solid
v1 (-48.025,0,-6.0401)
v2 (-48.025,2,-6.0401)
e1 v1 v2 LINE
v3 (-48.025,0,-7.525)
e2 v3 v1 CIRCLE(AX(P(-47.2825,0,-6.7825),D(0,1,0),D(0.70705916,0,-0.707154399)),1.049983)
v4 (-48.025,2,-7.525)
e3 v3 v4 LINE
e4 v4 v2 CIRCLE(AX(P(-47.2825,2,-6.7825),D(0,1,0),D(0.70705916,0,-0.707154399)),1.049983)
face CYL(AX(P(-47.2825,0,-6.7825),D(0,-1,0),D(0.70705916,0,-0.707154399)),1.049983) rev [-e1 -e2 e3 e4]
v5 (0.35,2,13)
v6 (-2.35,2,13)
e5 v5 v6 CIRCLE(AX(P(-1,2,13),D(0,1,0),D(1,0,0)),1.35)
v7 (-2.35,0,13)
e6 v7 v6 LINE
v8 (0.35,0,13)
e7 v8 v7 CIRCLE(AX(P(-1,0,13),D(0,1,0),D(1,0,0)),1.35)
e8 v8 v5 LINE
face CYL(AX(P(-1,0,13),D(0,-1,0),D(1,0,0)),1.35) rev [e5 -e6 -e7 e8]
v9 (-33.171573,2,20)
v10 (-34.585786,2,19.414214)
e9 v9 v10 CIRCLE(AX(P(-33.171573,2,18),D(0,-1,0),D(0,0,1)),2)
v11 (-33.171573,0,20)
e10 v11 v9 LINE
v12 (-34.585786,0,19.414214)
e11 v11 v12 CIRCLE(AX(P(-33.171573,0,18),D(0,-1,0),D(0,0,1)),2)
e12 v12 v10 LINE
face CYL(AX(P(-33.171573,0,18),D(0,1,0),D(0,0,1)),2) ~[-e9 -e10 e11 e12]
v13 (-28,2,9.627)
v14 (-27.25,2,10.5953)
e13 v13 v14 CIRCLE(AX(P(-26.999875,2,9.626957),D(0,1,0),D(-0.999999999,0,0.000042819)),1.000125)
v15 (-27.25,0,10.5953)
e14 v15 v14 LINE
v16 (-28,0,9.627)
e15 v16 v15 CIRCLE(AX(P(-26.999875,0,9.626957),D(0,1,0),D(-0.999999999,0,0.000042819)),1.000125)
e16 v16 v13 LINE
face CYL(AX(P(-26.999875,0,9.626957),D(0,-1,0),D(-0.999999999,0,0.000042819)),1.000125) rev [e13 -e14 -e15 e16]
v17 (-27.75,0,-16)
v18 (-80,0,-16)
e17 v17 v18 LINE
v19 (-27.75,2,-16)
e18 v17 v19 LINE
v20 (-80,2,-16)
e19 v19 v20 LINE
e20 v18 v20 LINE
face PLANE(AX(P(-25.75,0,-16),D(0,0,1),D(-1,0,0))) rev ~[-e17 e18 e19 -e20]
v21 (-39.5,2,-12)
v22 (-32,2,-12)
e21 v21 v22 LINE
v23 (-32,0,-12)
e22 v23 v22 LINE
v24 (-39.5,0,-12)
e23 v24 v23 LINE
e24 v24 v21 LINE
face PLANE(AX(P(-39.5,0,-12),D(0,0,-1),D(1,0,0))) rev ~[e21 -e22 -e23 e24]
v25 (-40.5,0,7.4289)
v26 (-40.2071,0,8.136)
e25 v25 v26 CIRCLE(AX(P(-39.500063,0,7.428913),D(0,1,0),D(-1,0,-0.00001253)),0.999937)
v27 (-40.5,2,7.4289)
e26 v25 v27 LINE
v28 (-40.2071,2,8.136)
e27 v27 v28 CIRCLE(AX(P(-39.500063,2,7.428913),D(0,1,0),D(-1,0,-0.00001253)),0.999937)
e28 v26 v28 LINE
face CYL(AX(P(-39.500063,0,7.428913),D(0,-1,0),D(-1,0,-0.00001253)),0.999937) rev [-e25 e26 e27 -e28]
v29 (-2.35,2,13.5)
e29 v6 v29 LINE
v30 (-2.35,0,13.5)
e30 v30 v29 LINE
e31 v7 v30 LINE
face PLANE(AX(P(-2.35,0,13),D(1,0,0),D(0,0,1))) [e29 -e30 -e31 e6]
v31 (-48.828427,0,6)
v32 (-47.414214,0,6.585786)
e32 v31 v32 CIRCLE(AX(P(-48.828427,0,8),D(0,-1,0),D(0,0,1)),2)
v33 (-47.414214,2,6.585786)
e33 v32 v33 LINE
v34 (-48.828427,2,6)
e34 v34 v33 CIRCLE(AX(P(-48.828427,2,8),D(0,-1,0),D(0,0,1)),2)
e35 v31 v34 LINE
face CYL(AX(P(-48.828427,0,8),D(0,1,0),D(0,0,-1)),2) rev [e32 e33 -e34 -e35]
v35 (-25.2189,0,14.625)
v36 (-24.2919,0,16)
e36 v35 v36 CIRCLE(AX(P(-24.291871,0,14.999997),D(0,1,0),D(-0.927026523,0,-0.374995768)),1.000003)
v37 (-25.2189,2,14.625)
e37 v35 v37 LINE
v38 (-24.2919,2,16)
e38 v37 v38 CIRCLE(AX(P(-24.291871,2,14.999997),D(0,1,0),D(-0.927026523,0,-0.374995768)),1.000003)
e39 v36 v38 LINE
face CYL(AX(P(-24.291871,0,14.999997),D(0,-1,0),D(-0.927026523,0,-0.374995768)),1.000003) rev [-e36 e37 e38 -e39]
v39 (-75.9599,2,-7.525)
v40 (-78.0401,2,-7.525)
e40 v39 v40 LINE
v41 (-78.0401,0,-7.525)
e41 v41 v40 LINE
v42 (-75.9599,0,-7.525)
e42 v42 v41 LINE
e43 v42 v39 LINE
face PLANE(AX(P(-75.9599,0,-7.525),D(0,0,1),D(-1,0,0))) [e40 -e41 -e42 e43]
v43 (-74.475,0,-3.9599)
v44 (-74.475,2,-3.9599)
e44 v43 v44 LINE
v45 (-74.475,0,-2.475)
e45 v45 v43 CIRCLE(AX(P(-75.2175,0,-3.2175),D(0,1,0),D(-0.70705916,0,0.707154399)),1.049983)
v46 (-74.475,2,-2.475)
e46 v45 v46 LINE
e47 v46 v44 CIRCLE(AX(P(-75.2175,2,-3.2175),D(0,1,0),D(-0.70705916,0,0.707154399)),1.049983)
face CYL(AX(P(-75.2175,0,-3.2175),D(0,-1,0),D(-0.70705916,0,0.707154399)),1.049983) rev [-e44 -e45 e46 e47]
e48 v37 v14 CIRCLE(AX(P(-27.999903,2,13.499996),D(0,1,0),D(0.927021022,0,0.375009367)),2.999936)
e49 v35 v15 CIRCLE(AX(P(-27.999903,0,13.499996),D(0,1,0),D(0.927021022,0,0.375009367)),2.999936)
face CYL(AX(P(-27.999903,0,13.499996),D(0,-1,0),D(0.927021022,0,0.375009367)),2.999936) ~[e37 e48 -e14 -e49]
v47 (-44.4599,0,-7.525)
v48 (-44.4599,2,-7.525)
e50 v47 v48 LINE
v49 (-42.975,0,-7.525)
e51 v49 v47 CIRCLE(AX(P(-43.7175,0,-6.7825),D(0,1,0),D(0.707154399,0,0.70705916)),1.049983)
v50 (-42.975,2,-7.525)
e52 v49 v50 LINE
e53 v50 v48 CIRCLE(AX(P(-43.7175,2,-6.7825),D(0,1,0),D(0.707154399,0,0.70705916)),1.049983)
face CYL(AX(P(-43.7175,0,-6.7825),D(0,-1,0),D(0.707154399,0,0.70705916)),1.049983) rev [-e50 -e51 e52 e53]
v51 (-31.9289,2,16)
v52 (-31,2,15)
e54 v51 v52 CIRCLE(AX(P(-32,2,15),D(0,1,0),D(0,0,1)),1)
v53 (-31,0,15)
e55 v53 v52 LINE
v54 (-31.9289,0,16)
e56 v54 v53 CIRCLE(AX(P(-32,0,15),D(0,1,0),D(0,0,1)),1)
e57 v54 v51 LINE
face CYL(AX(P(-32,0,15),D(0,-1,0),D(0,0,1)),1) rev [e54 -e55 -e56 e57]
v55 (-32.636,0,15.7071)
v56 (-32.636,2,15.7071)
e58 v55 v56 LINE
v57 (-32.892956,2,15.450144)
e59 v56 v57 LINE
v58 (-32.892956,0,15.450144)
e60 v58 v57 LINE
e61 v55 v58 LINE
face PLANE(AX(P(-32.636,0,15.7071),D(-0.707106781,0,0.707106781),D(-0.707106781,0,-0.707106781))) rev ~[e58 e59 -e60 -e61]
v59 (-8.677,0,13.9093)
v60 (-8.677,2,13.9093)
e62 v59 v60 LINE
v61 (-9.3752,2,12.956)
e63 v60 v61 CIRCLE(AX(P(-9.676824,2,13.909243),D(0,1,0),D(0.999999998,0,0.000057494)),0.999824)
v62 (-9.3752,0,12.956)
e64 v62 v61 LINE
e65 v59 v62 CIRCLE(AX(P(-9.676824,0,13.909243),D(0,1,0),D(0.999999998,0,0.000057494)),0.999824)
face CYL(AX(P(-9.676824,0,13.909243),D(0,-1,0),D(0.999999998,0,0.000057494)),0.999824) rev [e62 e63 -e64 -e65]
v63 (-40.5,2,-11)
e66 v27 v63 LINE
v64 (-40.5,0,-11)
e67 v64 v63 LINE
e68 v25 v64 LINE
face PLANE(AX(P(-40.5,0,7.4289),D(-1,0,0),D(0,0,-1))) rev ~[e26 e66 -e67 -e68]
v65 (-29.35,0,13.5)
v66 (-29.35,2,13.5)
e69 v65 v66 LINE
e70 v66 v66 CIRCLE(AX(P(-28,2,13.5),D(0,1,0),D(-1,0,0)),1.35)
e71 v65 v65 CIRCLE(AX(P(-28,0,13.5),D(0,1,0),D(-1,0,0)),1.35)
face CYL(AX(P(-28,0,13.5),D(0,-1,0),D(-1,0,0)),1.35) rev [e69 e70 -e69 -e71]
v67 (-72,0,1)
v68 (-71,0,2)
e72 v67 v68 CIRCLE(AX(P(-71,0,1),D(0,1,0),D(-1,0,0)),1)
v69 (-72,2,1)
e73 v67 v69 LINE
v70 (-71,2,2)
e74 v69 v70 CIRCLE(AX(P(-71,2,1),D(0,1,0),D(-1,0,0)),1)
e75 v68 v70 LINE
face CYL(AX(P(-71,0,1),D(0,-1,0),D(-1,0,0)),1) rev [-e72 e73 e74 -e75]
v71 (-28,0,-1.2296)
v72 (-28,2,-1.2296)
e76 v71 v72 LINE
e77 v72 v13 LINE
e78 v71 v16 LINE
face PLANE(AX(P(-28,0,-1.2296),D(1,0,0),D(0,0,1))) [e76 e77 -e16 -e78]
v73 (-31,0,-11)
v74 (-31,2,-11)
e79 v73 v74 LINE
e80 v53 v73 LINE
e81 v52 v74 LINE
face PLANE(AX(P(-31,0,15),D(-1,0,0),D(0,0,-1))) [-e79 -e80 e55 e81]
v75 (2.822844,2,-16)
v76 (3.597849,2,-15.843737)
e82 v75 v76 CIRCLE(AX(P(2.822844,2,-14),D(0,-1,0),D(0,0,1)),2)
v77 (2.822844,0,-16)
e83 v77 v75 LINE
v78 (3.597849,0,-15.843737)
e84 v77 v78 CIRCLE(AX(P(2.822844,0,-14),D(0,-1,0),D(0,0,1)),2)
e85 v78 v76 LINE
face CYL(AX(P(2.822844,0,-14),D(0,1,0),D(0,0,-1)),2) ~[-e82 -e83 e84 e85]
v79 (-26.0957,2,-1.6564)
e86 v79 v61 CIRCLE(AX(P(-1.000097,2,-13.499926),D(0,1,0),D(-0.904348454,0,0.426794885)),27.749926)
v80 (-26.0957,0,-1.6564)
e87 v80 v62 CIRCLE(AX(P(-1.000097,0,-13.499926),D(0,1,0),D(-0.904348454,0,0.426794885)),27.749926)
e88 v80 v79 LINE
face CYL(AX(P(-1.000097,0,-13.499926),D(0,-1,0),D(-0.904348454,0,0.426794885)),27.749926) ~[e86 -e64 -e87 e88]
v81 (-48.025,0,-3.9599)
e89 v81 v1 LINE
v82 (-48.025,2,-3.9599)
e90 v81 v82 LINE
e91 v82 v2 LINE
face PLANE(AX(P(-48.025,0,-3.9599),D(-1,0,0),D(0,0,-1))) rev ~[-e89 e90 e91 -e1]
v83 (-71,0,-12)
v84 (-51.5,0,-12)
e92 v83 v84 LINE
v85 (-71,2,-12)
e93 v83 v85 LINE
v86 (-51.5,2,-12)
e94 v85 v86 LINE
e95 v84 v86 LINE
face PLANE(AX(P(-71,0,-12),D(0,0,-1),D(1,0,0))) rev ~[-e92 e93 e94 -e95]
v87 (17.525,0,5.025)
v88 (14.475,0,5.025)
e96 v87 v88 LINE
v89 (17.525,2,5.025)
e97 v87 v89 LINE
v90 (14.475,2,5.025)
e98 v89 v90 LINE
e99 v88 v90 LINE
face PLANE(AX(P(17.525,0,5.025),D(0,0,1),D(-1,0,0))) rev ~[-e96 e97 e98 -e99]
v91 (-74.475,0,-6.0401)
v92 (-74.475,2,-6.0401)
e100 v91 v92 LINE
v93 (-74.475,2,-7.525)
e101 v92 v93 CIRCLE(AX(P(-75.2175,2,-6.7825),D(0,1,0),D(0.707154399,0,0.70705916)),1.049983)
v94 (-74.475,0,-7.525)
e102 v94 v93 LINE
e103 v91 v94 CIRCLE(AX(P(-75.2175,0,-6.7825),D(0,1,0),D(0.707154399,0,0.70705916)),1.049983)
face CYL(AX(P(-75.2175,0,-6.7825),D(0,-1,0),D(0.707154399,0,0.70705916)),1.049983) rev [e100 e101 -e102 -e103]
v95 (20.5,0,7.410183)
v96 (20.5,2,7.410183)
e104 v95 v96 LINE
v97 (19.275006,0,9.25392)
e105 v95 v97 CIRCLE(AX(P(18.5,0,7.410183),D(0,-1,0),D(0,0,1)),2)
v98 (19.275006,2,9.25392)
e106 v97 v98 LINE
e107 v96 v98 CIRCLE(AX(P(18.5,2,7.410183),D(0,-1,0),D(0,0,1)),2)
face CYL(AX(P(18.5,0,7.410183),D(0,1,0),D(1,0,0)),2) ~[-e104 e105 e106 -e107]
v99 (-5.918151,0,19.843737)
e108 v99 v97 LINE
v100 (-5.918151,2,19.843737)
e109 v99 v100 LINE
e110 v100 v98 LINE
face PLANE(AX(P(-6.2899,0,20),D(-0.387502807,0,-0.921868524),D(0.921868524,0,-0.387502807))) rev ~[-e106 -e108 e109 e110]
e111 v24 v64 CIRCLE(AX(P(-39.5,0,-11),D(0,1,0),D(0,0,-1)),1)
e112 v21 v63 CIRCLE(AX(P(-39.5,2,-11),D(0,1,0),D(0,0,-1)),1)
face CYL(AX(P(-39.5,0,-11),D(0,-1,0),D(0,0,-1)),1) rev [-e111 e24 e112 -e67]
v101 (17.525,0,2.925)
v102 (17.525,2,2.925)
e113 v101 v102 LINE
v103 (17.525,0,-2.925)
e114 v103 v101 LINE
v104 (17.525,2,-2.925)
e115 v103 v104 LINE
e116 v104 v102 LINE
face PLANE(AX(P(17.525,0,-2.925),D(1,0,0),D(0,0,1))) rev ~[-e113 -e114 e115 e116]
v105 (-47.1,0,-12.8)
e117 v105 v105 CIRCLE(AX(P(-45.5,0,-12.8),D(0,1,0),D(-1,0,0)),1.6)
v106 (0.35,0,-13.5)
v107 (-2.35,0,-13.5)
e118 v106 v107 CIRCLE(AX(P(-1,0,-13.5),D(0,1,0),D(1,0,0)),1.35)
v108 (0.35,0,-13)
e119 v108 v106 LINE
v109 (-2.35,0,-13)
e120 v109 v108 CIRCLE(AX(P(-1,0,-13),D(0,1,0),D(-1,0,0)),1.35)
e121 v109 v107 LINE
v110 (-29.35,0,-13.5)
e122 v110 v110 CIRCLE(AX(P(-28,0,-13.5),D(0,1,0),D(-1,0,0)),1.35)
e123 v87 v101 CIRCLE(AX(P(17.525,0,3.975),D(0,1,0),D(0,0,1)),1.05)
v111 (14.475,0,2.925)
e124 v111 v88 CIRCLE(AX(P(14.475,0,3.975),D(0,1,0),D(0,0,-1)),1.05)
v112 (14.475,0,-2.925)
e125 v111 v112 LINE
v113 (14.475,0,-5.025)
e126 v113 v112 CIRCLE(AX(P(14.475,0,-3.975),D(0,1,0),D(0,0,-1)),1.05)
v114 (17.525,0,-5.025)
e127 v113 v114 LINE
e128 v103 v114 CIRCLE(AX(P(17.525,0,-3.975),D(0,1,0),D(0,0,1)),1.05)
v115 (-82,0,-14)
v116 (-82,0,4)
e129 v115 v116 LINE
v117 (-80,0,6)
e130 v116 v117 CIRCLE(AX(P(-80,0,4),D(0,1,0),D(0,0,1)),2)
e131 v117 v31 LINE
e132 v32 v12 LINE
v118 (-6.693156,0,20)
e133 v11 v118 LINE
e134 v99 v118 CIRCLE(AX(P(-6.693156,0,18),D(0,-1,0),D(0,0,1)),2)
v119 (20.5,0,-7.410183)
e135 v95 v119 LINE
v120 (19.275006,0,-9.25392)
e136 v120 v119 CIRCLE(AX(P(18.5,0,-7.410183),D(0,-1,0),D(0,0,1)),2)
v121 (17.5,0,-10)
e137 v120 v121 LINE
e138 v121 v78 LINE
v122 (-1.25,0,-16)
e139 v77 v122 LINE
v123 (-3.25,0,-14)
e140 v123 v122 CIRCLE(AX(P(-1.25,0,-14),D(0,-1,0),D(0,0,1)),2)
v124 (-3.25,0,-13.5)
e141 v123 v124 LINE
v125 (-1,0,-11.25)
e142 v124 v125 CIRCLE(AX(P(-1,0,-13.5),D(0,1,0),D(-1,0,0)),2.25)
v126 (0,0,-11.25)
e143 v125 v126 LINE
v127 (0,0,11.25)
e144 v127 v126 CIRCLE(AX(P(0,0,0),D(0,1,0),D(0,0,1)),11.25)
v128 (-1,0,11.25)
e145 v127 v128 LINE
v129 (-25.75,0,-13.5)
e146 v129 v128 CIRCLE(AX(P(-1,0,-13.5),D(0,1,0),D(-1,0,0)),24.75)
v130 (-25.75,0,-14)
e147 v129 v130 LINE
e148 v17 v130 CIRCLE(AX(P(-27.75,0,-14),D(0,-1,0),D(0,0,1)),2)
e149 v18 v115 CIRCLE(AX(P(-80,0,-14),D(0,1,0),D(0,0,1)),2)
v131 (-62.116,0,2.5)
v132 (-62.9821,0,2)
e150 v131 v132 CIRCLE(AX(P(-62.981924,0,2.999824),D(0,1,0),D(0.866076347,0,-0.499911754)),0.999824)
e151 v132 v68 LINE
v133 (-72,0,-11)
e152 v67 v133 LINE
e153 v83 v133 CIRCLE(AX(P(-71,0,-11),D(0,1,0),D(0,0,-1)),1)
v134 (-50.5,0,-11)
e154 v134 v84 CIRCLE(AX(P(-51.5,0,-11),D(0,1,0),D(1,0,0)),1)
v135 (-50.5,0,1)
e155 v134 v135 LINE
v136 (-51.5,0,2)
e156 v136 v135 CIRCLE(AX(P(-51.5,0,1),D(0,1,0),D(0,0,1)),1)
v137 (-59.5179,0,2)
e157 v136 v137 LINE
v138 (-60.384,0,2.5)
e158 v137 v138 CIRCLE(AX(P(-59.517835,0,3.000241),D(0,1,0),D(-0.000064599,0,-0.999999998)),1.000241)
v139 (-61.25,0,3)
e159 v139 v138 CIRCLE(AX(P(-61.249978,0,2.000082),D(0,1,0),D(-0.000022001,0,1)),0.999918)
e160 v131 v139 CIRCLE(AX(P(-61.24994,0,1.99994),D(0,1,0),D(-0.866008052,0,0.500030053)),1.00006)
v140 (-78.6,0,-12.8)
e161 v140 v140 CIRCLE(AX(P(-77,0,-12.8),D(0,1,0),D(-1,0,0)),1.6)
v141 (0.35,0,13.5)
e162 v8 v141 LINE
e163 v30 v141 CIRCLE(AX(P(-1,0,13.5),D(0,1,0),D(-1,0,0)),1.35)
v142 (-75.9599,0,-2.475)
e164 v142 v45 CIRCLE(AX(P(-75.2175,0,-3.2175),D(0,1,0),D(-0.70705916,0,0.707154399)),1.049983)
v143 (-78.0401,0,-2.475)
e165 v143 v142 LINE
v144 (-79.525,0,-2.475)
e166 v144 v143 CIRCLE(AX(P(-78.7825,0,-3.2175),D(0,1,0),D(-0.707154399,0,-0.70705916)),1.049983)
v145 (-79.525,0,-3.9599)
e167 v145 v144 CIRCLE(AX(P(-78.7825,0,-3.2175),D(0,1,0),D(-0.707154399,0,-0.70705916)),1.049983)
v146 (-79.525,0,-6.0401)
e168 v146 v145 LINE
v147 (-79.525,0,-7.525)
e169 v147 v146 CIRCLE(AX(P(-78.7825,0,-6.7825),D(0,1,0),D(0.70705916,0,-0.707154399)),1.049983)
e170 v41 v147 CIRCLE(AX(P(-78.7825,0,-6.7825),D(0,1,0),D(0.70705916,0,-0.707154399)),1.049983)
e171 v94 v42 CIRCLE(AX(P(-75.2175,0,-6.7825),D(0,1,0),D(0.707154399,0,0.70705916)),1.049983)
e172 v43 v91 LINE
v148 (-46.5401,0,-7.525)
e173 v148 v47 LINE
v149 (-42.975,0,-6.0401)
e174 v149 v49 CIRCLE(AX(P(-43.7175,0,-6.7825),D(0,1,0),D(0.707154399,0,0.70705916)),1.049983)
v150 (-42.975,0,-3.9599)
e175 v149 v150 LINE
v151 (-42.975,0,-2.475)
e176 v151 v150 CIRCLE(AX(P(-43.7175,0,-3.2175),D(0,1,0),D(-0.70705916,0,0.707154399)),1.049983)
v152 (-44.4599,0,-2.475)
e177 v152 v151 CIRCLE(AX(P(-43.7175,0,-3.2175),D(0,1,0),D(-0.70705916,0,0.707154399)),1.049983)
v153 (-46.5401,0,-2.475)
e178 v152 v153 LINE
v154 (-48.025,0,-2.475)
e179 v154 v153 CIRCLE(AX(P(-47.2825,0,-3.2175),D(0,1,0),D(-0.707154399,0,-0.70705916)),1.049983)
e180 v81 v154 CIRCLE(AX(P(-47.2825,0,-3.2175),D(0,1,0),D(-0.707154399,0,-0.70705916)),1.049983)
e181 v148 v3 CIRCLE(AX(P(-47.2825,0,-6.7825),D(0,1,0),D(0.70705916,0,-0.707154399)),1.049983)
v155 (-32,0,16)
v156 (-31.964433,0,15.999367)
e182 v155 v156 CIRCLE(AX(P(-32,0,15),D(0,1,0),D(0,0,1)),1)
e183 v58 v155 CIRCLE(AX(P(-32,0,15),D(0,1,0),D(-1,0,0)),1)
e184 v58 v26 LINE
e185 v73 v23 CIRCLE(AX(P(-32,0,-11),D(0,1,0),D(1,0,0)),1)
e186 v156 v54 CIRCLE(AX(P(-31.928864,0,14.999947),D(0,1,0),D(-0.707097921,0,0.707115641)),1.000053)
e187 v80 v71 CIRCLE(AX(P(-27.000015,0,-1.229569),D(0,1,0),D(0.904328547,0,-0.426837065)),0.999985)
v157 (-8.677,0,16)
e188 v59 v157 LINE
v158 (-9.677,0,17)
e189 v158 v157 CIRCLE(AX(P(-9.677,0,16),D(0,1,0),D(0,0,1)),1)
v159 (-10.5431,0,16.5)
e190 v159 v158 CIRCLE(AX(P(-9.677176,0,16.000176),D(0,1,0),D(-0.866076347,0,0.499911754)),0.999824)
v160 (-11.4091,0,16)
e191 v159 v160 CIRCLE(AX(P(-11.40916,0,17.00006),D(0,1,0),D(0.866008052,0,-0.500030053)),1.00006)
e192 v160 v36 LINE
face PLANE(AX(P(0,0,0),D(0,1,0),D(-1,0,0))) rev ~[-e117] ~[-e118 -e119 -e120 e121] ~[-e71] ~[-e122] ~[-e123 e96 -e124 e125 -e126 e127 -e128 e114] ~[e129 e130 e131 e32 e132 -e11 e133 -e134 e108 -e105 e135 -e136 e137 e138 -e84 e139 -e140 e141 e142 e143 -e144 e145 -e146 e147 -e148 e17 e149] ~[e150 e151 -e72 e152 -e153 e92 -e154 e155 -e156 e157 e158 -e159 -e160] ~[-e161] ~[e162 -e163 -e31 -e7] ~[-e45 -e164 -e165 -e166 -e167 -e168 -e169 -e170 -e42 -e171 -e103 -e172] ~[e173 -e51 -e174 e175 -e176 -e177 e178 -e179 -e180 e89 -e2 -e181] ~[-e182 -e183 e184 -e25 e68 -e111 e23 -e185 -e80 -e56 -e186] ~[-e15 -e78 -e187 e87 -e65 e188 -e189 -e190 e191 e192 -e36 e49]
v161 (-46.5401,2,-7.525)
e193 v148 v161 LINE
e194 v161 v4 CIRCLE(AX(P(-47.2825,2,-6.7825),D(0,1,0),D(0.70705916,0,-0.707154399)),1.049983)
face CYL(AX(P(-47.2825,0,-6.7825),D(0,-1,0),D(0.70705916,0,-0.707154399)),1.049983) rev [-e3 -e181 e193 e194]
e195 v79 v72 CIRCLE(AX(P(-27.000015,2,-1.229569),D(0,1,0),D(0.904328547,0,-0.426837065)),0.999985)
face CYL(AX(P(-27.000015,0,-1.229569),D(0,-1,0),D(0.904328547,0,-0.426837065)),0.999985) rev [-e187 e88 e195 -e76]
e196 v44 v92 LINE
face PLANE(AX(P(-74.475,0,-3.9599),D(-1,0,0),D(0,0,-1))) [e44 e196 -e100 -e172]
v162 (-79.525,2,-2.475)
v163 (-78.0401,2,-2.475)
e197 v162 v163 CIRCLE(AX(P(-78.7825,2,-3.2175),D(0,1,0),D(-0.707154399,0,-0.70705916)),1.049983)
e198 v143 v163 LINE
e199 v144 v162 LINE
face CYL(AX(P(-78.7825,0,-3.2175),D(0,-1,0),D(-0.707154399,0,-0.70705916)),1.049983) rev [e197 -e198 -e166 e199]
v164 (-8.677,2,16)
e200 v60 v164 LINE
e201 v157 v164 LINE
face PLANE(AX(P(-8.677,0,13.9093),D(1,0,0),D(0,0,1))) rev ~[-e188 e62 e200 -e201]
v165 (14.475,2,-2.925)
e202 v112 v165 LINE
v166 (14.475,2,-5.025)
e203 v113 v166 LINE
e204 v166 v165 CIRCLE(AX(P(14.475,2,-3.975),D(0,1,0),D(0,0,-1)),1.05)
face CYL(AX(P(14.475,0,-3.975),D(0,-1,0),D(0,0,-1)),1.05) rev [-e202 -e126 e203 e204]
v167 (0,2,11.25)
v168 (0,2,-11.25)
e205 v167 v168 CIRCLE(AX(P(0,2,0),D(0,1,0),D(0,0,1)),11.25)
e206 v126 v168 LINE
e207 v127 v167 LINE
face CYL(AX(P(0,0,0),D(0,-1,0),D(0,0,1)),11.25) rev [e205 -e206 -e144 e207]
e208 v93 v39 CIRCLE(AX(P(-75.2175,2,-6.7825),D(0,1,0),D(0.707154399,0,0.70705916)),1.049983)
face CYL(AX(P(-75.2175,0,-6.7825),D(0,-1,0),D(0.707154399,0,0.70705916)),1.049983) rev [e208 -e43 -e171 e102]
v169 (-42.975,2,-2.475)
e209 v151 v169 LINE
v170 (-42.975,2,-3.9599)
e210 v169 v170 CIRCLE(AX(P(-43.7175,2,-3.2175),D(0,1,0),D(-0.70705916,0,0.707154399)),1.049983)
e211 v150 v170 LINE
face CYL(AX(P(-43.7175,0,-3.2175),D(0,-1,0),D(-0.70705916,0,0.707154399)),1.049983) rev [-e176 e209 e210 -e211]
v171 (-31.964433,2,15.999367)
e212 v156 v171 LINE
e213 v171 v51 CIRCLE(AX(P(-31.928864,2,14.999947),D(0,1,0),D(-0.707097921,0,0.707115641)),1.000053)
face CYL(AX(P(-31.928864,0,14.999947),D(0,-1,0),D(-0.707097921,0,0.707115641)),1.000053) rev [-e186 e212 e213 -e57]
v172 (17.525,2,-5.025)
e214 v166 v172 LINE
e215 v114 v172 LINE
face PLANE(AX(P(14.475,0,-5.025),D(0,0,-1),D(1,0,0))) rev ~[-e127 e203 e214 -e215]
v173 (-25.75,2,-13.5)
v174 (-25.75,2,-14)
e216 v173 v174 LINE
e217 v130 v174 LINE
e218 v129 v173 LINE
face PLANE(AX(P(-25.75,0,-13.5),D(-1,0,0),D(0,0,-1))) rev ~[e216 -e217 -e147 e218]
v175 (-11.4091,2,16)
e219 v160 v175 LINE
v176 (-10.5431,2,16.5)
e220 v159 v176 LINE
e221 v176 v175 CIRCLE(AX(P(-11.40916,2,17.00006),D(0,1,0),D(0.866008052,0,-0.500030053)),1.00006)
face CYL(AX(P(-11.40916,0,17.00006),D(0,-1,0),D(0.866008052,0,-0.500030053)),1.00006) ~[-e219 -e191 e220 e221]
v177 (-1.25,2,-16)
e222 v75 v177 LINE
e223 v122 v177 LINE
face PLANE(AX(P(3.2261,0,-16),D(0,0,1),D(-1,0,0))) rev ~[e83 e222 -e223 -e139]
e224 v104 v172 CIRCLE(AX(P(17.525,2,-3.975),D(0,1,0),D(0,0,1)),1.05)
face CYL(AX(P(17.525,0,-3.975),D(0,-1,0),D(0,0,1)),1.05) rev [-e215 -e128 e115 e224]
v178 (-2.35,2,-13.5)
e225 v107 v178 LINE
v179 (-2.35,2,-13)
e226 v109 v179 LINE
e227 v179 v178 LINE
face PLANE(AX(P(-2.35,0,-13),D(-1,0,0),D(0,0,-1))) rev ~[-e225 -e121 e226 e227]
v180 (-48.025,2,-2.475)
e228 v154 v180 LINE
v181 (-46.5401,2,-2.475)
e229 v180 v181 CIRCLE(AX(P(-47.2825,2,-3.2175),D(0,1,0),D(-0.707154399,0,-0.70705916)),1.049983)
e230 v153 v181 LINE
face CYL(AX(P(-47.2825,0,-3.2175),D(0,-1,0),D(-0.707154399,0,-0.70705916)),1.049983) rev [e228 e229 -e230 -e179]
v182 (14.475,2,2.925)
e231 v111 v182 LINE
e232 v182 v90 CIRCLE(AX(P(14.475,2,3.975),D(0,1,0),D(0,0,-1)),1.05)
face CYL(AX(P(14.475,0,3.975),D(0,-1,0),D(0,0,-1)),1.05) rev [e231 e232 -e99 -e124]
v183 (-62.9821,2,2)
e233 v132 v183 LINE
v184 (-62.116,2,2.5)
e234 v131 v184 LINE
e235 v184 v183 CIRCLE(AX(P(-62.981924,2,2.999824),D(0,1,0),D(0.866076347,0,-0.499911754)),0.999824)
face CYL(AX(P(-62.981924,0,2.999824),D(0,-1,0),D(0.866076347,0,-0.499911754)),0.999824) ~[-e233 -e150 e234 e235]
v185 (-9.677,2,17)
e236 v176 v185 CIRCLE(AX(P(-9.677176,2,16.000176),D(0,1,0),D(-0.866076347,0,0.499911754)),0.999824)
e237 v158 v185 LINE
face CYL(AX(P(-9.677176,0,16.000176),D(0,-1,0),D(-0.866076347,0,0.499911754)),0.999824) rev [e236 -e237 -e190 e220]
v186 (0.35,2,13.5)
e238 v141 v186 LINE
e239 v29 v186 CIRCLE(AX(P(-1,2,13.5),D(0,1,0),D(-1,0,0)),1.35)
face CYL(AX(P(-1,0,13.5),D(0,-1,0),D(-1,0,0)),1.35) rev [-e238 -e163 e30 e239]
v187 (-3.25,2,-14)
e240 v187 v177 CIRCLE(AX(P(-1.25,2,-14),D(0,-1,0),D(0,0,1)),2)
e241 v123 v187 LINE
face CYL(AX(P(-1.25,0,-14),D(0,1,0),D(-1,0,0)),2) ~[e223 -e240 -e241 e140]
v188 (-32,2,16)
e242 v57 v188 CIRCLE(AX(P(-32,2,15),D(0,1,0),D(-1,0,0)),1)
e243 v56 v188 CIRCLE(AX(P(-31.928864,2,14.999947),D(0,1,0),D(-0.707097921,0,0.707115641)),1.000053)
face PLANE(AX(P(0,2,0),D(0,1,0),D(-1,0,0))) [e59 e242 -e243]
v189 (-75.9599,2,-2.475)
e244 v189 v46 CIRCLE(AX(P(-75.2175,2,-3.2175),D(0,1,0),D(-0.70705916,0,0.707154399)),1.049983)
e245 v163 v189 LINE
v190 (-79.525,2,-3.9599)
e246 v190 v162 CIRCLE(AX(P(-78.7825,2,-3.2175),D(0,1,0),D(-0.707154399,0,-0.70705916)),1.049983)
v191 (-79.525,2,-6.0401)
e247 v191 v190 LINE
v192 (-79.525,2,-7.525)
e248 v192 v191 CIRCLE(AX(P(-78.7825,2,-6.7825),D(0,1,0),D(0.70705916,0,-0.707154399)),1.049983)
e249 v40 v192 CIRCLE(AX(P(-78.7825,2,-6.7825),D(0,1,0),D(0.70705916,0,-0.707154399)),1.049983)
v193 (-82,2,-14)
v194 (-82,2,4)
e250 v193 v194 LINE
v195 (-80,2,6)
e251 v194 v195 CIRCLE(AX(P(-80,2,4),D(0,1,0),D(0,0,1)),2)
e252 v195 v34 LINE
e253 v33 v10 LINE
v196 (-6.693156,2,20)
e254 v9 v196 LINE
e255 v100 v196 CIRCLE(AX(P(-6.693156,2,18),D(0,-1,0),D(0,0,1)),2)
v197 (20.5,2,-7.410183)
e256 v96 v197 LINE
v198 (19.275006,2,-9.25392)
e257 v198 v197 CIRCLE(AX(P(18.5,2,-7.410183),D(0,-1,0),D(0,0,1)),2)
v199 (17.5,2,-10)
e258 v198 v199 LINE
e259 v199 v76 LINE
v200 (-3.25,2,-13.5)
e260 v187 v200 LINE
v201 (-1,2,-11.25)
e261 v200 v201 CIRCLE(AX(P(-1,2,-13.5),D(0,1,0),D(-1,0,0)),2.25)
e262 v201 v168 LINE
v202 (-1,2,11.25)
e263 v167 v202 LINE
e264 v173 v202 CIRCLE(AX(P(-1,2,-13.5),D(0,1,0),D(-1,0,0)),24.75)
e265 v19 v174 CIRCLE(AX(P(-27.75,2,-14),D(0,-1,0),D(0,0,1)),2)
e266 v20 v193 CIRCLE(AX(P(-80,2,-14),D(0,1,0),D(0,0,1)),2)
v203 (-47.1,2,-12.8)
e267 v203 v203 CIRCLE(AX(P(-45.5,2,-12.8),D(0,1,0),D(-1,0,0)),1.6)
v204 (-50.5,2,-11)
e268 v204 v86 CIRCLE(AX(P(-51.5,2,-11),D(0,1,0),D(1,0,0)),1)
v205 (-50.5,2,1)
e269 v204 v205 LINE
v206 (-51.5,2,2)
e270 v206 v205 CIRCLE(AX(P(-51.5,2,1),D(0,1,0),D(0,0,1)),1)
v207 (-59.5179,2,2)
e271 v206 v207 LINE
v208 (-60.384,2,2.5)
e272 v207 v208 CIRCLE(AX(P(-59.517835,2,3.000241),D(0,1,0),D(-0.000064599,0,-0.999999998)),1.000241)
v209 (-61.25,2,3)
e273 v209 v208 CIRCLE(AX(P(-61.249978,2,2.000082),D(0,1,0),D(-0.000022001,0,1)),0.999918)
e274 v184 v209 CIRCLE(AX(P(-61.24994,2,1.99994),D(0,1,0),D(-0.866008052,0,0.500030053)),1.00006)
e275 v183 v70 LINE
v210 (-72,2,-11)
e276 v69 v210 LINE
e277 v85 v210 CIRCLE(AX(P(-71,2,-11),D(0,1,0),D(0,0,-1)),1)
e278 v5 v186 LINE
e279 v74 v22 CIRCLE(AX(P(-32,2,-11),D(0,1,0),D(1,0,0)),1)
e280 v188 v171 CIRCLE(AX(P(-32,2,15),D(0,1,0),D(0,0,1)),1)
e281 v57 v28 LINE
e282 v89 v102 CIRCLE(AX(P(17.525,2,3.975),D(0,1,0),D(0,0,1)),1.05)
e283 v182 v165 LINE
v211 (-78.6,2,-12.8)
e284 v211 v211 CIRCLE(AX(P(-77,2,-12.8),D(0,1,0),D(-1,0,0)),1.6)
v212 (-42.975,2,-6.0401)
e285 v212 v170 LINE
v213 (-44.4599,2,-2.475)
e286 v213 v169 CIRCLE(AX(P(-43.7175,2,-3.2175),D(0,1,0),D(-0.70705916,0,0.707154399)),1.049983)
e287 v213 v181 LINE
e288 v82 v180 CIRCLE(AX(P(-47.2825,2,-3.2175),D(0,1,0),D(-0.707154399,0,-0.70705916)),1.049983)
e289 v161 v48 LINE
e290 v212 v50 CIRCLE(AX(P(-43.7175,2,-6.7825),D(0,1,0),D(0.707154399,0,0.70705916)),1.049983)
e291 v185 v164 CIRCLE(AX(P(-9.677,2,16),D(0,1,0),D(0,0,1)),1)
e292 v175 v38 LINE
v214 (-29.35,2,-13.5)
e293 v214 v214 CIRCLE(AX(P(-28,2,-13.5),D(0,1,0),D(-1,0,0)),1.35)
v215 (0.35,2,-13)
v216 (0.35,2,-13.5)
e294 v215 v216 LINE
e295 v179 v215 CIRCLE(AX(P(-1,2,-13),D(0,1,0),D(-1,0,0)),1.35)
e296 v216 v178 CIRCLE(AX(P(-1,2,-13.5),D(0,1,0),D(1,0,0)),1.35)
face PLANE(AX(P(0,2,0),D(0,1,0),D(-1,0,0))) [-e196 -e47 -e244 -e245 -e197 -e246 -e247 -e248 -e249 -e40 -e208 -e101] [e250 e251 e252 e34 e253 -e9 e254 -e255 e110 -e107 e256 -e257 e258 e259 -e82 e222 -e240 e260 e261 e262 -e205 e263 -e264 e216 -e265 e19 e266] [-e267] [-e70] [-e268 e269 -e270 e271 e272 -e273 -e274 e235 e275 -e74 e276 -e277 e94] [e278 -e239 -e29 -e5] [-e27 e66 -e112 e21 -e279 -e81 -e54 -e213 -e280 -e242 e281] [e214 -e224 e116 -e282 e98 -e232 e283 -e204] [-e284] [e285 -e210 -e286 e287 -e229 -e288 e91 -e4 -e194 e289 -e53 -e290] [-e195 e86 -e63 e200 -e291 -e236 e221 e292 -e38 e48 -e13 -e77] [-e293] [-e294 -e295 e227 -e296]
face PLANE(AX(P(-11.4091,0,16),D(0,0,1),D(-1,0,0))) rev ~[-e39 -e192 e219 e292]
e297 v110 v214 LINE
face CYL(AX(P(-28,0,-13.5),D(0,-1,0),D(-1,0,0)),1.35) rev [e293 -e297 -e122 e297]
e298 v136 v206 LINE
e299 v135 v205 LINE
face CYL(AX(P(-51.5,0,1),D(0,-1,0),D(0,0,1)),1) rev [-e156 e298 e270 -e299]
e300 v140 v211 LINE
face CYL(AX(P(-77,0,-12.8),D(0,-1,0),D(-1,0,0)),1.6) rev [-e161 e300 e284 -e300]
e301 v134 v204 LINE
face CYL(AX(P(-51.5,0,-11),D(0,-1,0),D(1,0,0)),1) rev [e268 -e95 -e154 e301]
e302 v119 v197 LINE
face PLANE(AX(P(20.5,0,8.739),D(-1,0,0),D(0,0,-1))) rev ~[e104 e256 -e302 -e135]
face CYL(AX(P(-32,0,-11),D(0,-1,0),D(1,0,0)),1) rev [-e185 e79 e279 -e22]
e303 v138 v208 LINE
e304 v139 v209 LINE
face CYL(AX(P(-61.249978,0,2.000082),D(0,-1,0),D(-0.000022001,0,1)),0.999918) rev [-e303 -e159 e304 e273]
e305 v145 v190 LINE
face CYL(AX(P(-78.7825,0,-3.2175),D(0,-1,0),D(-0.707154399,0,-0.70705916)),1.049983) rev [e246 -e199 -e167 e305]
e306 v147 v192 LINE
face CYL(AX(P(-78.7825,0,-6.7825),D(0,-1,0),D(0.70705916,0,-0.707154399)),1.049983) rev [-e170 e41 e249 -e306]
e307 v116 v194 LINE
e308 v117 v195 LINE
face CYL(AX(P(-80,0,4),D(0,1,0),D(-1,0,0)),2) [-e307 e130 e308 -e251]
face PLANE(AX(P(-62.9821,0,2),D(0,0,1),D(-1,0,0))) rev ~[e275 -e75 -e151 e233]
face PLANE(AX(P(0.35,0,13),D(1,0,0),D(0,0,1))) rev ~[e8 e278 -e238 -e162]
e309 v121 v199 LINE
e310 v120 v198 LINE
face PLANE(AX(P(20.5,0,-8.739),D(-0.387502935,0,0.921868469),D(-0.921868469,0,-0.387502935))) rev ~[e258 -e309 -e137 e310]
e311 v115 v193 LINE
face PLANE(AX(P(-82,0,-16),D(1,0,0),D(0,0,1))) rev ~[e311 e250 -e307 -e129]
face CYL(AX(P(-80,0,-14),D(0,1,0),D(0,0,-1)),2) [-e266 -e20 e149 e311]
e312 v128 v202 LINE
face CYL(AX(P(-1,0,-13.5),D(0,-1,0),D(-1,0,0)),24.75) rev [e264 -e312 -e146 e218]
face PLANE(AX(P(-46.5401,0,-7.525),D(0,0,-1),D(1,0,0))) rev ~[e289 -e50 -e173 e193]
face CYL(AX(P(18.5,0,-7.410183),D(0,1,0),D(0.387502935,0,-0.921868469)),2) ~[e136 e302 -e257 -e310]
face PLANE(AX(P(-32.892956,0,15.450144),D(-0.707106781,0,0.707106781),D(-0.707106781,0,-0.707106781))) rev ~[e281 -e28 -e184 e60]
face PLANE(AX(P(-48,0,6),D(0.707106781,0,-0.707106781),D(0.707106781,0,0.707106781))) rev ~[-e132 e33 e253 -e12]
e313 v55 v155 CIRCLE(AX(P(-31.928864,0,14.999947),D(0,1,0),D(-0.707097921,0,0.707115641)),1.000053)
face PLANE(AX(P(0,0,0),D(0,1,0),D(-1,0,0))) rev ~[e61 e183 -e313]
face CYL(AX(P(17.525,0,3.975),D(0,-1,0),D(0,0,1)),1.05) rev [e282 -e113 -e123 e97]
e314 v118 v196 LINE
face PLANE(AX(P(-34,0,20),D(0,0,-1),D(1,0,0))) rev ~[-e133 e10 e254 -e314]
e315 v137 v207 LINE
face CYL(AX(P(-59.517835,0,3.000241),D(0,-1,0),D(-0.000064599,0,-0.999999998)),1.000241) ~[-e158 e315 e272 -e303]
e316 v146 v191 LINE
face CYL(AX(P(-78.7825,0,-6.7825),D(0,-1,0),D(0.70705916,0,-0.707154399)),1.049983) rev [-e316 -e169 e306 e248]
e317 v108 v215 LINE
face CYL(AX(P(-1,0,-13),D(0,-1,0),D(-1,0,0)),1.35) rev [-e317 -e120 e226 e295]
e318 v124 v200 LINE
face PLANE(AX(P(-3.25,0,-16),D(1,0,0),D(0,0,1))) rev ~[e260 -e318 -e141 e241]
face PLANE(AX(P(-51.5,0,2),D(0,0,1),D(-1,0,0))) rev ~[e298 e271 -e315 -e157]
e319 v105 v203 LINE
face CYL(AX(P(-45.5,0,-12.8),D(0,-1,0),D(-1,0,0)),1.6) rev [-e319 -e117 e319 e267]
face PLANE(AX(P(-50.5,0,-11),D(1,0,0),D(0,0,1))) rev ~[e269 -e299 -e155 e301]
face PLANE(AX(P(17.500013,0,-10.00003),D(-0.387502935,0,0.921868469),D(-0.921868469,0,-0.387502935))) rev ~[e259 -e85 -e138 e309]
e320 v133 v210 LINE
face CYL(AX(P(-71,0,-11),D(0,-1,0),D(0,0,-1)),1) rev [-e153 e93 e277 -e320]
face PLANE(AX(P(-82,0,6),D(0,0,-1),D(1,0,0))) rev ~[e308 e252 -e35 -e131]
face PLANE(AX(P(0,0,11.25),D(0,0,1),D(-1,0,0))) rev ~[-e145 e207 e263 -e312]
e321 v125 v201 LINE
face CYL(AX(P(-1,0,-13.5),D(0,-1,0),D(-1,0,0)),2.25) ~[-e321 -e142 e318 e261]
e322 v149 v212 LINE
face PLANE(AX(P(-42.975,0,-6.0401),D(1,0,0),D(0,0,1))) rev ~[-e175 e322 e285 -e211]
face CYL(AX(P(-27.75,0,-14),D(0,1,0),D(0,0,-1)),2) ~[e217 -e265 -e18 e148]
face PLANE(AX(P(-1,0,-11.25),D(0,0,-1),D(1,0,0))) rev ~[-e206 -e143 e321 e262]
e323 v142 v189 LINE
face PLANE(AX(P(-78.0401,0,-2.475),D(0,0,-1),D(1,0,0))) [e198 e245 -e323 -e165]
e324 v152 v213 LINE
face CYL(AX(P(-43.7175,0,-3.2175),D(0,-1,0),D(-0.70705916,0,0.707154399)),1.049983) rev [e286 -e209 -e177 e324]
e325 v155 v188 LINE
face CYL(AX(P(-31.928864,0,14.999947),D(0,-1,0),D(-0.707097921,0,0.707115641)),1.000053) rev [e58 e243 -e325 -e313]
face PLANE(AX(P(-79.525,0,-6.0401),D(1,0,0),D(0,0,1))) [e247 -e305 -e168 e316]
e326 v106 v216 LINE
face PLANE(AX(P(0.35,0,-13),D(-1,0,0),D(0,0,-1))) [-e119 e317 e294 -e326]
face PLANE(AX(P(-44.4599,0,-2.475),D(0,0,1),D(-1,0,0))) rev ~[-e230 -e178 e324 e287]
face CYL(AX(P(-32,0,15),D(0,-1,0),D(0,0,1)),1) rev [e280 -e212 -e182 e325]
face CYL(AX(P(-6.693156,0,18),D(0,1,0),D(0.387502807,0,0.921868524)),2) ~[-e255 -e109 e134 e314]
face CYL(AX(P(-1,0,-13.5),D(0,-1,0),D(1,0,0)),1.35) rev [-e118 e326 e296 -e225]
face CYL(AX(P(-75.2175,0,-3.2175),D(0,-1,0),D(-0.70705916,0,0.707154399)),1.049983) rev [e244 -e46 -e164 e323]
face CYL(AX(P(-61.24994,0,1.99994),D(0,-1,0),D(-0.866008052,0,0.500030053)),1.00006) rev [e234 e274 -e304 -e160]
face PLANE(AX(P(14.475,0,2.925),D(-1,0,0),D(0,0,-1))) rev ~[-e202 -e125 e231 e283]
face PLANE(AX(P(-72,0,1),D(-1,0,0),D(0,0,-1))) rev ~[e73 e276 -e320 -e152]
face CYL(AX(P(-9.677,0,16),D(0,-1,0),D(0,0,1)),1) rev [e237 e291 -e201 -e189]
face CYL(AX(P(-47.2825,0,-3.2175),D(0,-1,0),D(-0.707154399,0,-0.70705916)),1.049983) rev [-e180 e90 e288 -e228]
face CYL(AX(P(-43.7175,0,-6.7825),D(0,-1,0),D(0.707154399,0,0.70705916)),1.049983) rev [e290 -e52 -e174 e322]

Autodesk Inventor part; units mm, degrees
ref_plane "YZ Plane" through (0, 0, 0) normal (1, 0, 0) x (0, 1, 0)
ref_plane "XZ Plane" through (0, 0, 0) normal (0, 1, 0) x (-1, 0, 0)
ref_plane "XY Plane" through (0, 0, 0) normal (0, 0, 1) x (1, 0, 0)
sketch "スケッチ1" plane through (0, 0, 0) normal (0, 1, 0) x (-1, 0, 0)
  line L0 (48, -16) -> (43, -16) construction
  line L1 (43, -16) -> (43, 6) construction
  line L2 (43, 6) -> (48, 6) construction
  line L3 (48, 6) -> (48, -16) construction
  line L4 (48, -16) -> (43, 6) construction
  line L5 (43, -16) -> (48, 6) construction
  line L6 (45.5, 6) -> (45.5, -16) construction
  line L7 (48, -7.5) -> (43, -7.5) construction
  line L8 (43, -7.5) -> (43, -2.5) construction
  line L9 (43, -2.5) -> (48, -2.5) construction
  line L10 (48, -2.5) -> (48, -7.5) construction
  line L11 (48, -7.5) -> (43, -2.5) construction
  line L12 (43, -7.5) -> (48, -2.5) construction
  line L13 (48.025, -7.525) -> (42.975, -7.525)
  line L14 (42.975, -7.525) -> (42.975, -2.475)
  line L15 (42.975, -2.475) -> (48.025, -2.475)
  line L16 (48.025, -2.475) -> (48.025, -7.525)
  line L17 (48.025, -7.525) -> (42.975, -2.475) construction
  line L18 (42.975, -7.525) -> (48.025, -2.475) construction
  line L19 (42.975, -5) -> (48.025, -5) construction
  arc A0 (44.4599, -2.475) -> (42.975, -3.9599) centre (43.7175, -3.2175) ccw
  arc A1 (48.025, -3.9599) -> (46.5401, -2.475) centre (47.2825, -3.2175) ccw
  arc A2 (42.975, -6.0401) -> (44.4599, -7.525) centre (43.7175, -6.7825) ccw
  arc A3 (46.5401, -7.525) -> (48.025, -6.0401) centre (47.2825, -6.7825) ccw
  circle A4 centre (0, 0) radius 10.5 construction
  line L20 (1, 13.5) -> (28, 13.5) construction
  line L21 (28, 13.5) -> (28, -13.5) construction
  line L22 (28, -13.5) -> (1, -13.5) construction
  line L23 (1, -13.5) -> (1, 13.5) construction
  line L24 (1, 13.5) -> (28, -13.5) construction
  line L25 (28, 13.5) -> (1, -13.5) construction
  circle A5 centre (28, 13.5) radius 1.35
  arc A6 (-0.35, 13) -> (2.35, 13) centre (1, 13) ccw
  line L26 (-0.35, 13) -> (-0.35, 13.5)
  line L27 (2.35, 13) -> (2.35, 13.5)
  arc A7 (2.35, 13.5) -> (-0.35, 13.5) centre (1, 13.5) ccw
  circle A8 centre (1, 13.5) radius 2.25 construction
  circle A9 centre (28, 13.5) radius 2.25 construction
  line L28 (1, 0) -> (28, 0) construction
  circle A10 centre (28, -13.5) radius 1.35
  arc A11 (2.35, -13) -> (-0.35, -13) centre (1, -13) ccw
  line L29 (-0.35, -13) -> (-0.35, -13.5)
  line L30 (2.35, -13) -> (2.35, -13.5)
  arc A12 (-0.35, -13.5) -> (2.35, -13.5) centre (1, -13.5) ccw
  circle A13 centre (1, -13.5) radius 2.25 construction
  circle A14 centre (28, -13.5) radius 2.25 construction
  line L31 (-17.5, -5) -> (-14.5, -5) construction
  line L32 (-14.5, -5) -> (-14.5, 5) construction
  line L33 (-14.5, 5) -> (-17.5, 5) construction
  line L34 (-17.5, 5) -> (-17.5, -5) construction
  line L35 (-17.5, -5) -> (-14.5, 5) construction
  line L36 (-14.5, -5) -> (-17.5, 5) construction
  line L37 (-14.475, -5.025) -> (-17.525, -5.025)
  line L38 (-17.525, -5.025) -> (-17.525, 5.025)
  line L39 (-17.525, 5.025) -> (-14.475, 5.025)
  line L40 (-14.475, 5.025) -> (-14.475, -5.025)
  line L41 (-14.475, -5.025) -> (-17.525, 5.025) construction
  line L42 (-17.525, -5.025) -> (-14.475, 5.025) construction
  arc A15 (-17.525, 5.025) -> (-17.525, 2.925) centre (-17.525, 3.975) ccw
  line L43 (-16, 5.025) -> (-16, -5.025) construction
  line L44 (-17.525, 0) -> (-14.475, 0) construction
  arc A16 (-14.475, 2.925) -> (-14.475, 5.025) centre (-14.475, 3.975) ccw
  arc A17 (-17.525, -2.925) -> (-17.525, -5.025) centre (-17.525, -3.975) ccw
  arc A18 (-14.475, -5.025) -> (-14.475, -2.925) centre (-14.475, -3.975) ccw
  arc A19 (0, 16) -> (-12, 10.583) centre (0, 0) ccw construction
  line L45 (-12, 10.583) -> (-12, -10.583) construction
  line L46 (0, 16) -> (31, 16) construction
  line L47 (31, 16) -> (31, -16) construction
  arc A20 (-12, -10.583) -> (0, -16) centre (0, 0) ccw construction
  line L48 (0, -16) -> (31, -16) construction
  circle A21 centre (45.5, -12.8) radius 1.6
  line L49 (82, -16) -> (82, 6)
  line L50 (82, 6) -> (48, 6)
  line L51 (48, 6) -> (34, 20)
  line L52 (34, 20) -> (6.2899, 20)
  line L53 (6.2899, 20) -> (-20.5, 8.739)
  line L54 (-20.5, 8.739) -> (-20.5, -8.739)
  line L55 (-20.5, -8.739) -> (-3.2261, -16)
  line L56 (-3.2261, -16) -> (3.25, -16)
  line L57 (3.25, -16) -> (3.25, -13.5)
  arc A22 (0, 11.25) -> (0, -11.25) centre (0, 0) ccw
  line L58 (0, 11.25) -> (1, 11.25)
  arc A23 (25.75, -13.5) -> (1, 11.25) centre (1, -13.5) ccw
  arc A24 (3.25, -13.5) -> (1, -11.25) centre (1, -13.5) ccw
  line L59 (1, -11.25) -> (0, -11.25)
  line L60 (25.75, -13.5) -> (25.75, -16)
  line L61 (25.75, -16) -> (82, -16)
  arc A25 (26.0957, -1.6564) -> (9.3752, 12.956) centre (1, -13.5) ccw
  line L62 (11.4091, 16) -> (24.2919, 16)
  line L63 (45, 6) -> (45, -16) construction
  line L64 (8.677, 13.9093) -> (8.677, 16)
  line L65 (9.677, 17) -> (9.677, 17)
  arc A26 (10.5431, 16.5) -> (11.4091, 16) centre (11.4091, 17) ccw
  arc A27 (10.5431, 16.5) -> (9.677, 17) centre (9.677, 16) ccw
  arc A28 (8.677, 13.9093) -> (9.3752, 12.956) centre (9.677, 13.9093) ccw
  arc A29 (9.677, 17) -> (8.677, 16) centre (9.677, 16) ccw
  arc A30 (26.0957, -1.6564) -> (28, -1.2296) centre (27, -1.2296) ccw
  arc A31 (25.2189, 14.625) -> (24.2919, 16) centre (24.2919, 15) ccw
  line L66 (32, 16) -> (31.9289, 16)
  line L67 (32.636, 15.7071) -> (40.2071, 8.136)
  line L68 (40.5, 7.4289) -> (40.5, -11)
  line L69 (39.5, -12) -> (32, -12)
  line L70 (77.5, 30) -> (45, 30) construction
  line L71 (45, 30) -> (45, -12) construction
  line L72 (45, -12) -> (77.5, -12) construction
  line L73 (77.5, -12) -> (77.5, 30) construction
  line L74 (77.5, 30) -> (45, -12) construction
  line L75 (45, 30) -> (77.5, -12) construction
  line L76 (61.25, 30) -> (61.25, -12) construction
  line L77 (74.475, -7.525) -> (79.525, -7.525)
  line L78 (79.525, -7.525) -> (79.525, -2.475)
  line L79 (79.525, -2.475) -> (74.475, -2.475)
  line L80 (74.475, -2.475) -> (74.475, -7.525)
  arc A32 (79.525, -3.9599) -> (78.0401, -2.475) centre (78.7825, -3.2175) ccw
  arc A33 (75.9599, -2.475) -> (74.475, -3.9599) centre (75.2175, -3.2175) ccw
  arc A34 (78.0401, -7.525) -> (79.525, -6.0401) centre (78.7825, -6.7825) ccw
  arc A35 (74.475, -6.0401) -> (75.9599, -7.525) centre (75.2175, -6.7825) ccw
  circle A36 centre (77, -12.8) radius 1.6
  line L81 (71, -12) -> (51.5, -12)
  line L82 (50.5, -11) -> (50.5, 1)
  line L83 (72, 1) -> (72, -11)
  line L84 (72, -12) -> (50.5, 2) construction
  line L85 (50.5, -12) -> (72, 2) construction
  line L86 (31, 15) -> (31, -11)
  arc A37 (32, 16) -> (31, 15) centre (32, 15) ccw
  arc A38 (31, 15) -> (31, 15) centre (32, 15) ccw
  arc A39 (31, -11) -> (32, -12) centre (32, -11) ccw
  arc A40 (39.5, -12) -> (40.5, -11) centre (39.5, -11) ccw
  arc A41 (40.5, 7.4289) -> (40.2071, 8.136) centre (39.5, 7.4289) ccw
  arc A42 (32.636, 15.7071) -> (31.9289, 16) centre (31.9289, 15) ccw
  arc A43 (51.5, 2) -> (50.5, 1) centre (51.5, 1) ccw
  arc A44 (50.5, -11) -> (51.5, -12) centre (51.5, -11) ccw
  arc A45 (71, -12) -> (72, -11) centre (71, -11) ccw
  arc A46 (72, 1) -> (71, 2) centre (71, 1) ccw
  line L87 (74.5, -16) -> (79.5, -16) construction
  line L88 (79.5, -16) -> (79.5, 6) construction
  line L89 (79.5, 6) -> (74.5, 6) construction
  line L90 (74.5, 6) -> (74.5, -16) construction
  line L91 (51.5, 2) -> (59.5179, 2)
  line L92 (62.9821, 2) -> (71, 2)
  arc A47 (61.25, 3) -> (60.384, 2.5) centre (61.25, 2) ccw
  arc A48 (62.116, 2.5) -> (61.25, 3) centre (61.25, 2) ccw
  arc A49 (59.5179, 2) -> (60.384, 2.5) centre (59.5179, 3) ccw
  arc A50 (62.116, 2.5) -> (62.9821, 2) centre (62.9821, 3) ccw
  line L93 (-14.5, -10) -> (-17.5, -10)
  line L94 (-17.5, -10) -> (-17.5, 10) construction
  line L95 (-17.5, 10) -> (-14.5, 10) construction
  line L96 (-14.5, 10) -> (-14.5, -10) construction
  line L97 (-14.5, -10) -> (-17.5, 10) construction
  line L98 (-17.5, -10) -> (-14.5, 10) construction
  line L99 (28, -1.2296) -> (28, 9.627)
  arc A51 (28, 9.627) -> (27.25, 10.5953) centre (27, 9.627) ccw
  arc A52 (25.2189, 14.625) -> (27.25, 10.5953) centre (28, 13.5) ccw
  point P0 (45.5, -5)
  point P1 (45.5, -5)
  point P2 (45.5, -5)
  point P3 (14.5, 0)
  point P4 (-16, 0)
  point P5 (48, -5)
  point P6 (-20.5, 0)
  point P7 (8.677, 17)
  point P8 (32.3431, 16)
  point P9 (40.5, 7.8431)
  point P10 (40.5, -12)
  point P11 (31, -12)
  point P12 (61.25, 9)
  point P13 (75.9599, -2.475)
  point P14 (78.0401, -7.525)
  point P15 (74.475, -6.0401)
  point P16 (74.475, -3.9599)
  point P17 (46.5401, -7.525)
  point P18 (44.4599, -7.525)
  point P19 (42.975, -6.0401)
  point P20 (46.5401, -2.475)
  point P21 (48.025, -3.9599)
  point P22 (48.025, -6.0401)
  point P23 (5.2762, 14.7617)
  point P24 (-14.475, -2.925)
  point P25 (61.25, -5)
  point P26 (60.25, 2)
  point P27 (62.25, 2)
  point P28 (45.5, -5)
  point P29 (45.5, -5)
  point P30 (31.9645, 15.9994)
  dimension "d0" = 5
  dimension "d1" = 22
  dimension "d2" = 5
  dimension "d3" = 1.05
  dimension "d5" = 0.025
  dimension "d6" = 0.025
  dimension "d14" = 21
  dimension "d15" = 27
  dimension "d16" = 27
  dimension "d17" = 2.7
  dimension "d19" = 0.5
  dimension "d21" = 4.5
  dimension "d22" = 1
  dimension "d23" = 3
  dimension "d24" = 10
  dimension "d25" = 1.05
  dimension "d26" = 0.025
  dimension "d27" = 0.025
  dimension "d28" = 16
  dimension "d29" = 12
  dimension "d30" = 2.5
  dimension "d31" = 5
  dimension "d32" = 3.2
  dimension "d34" = 3
  dimension "d35" = 45
  dimension "d36" = 3
  dimension "d37" = 3
  dimension "d40" = 1
  dimension "d42" = 32.5
  dimension "d43" = 42
  dimension "d47" = 4
  dimension "d48" = 2.5
  dimension "d49" = 2.5
  dimension "d51" = 1
  dimension "d53" = 4
  dimension "d54" = 1
  dimension "d55" = 4
  dimension "d57" = 2.5
  dimension "d59" = 22.799
  dimension "d60" = 4
  dimension "d61" = 1
  dimension "d62" = 1
  dimension "d64" = 45
  dimension "d65" = 4
  dimension "d66" = 1
  dimension "d67" = 20
  dimension "d68" = 7.8
  dimension "d69" = 31
  dimension "d70" = 3
  dimension "d71" = 4
extrude "押し出し1" add sketch "スケッチ1" along normal blind 2 contours L61 L60 A23 L58 A22 L59 A24 L57 L56 L55 L54 L53 L52 L51 L50 L49 | A38 L67 A42
fillet "フィレット1" radius 2 10 edges at (20.5, 1, 8.739) (20.5, 1, -8.739) (-6.2899, 1, 20) (-34, 1, 20) (-3.25, 1, -16) (-25.75, 1, -16) (-48, 1, 6) (-82, 1, 6) (-82, 1, -16) (3.2261, 1, -16)
equation "\"d6\" = d5"
equation "\"d27\" = d26"
properties part number "Ankle_side_frame"
